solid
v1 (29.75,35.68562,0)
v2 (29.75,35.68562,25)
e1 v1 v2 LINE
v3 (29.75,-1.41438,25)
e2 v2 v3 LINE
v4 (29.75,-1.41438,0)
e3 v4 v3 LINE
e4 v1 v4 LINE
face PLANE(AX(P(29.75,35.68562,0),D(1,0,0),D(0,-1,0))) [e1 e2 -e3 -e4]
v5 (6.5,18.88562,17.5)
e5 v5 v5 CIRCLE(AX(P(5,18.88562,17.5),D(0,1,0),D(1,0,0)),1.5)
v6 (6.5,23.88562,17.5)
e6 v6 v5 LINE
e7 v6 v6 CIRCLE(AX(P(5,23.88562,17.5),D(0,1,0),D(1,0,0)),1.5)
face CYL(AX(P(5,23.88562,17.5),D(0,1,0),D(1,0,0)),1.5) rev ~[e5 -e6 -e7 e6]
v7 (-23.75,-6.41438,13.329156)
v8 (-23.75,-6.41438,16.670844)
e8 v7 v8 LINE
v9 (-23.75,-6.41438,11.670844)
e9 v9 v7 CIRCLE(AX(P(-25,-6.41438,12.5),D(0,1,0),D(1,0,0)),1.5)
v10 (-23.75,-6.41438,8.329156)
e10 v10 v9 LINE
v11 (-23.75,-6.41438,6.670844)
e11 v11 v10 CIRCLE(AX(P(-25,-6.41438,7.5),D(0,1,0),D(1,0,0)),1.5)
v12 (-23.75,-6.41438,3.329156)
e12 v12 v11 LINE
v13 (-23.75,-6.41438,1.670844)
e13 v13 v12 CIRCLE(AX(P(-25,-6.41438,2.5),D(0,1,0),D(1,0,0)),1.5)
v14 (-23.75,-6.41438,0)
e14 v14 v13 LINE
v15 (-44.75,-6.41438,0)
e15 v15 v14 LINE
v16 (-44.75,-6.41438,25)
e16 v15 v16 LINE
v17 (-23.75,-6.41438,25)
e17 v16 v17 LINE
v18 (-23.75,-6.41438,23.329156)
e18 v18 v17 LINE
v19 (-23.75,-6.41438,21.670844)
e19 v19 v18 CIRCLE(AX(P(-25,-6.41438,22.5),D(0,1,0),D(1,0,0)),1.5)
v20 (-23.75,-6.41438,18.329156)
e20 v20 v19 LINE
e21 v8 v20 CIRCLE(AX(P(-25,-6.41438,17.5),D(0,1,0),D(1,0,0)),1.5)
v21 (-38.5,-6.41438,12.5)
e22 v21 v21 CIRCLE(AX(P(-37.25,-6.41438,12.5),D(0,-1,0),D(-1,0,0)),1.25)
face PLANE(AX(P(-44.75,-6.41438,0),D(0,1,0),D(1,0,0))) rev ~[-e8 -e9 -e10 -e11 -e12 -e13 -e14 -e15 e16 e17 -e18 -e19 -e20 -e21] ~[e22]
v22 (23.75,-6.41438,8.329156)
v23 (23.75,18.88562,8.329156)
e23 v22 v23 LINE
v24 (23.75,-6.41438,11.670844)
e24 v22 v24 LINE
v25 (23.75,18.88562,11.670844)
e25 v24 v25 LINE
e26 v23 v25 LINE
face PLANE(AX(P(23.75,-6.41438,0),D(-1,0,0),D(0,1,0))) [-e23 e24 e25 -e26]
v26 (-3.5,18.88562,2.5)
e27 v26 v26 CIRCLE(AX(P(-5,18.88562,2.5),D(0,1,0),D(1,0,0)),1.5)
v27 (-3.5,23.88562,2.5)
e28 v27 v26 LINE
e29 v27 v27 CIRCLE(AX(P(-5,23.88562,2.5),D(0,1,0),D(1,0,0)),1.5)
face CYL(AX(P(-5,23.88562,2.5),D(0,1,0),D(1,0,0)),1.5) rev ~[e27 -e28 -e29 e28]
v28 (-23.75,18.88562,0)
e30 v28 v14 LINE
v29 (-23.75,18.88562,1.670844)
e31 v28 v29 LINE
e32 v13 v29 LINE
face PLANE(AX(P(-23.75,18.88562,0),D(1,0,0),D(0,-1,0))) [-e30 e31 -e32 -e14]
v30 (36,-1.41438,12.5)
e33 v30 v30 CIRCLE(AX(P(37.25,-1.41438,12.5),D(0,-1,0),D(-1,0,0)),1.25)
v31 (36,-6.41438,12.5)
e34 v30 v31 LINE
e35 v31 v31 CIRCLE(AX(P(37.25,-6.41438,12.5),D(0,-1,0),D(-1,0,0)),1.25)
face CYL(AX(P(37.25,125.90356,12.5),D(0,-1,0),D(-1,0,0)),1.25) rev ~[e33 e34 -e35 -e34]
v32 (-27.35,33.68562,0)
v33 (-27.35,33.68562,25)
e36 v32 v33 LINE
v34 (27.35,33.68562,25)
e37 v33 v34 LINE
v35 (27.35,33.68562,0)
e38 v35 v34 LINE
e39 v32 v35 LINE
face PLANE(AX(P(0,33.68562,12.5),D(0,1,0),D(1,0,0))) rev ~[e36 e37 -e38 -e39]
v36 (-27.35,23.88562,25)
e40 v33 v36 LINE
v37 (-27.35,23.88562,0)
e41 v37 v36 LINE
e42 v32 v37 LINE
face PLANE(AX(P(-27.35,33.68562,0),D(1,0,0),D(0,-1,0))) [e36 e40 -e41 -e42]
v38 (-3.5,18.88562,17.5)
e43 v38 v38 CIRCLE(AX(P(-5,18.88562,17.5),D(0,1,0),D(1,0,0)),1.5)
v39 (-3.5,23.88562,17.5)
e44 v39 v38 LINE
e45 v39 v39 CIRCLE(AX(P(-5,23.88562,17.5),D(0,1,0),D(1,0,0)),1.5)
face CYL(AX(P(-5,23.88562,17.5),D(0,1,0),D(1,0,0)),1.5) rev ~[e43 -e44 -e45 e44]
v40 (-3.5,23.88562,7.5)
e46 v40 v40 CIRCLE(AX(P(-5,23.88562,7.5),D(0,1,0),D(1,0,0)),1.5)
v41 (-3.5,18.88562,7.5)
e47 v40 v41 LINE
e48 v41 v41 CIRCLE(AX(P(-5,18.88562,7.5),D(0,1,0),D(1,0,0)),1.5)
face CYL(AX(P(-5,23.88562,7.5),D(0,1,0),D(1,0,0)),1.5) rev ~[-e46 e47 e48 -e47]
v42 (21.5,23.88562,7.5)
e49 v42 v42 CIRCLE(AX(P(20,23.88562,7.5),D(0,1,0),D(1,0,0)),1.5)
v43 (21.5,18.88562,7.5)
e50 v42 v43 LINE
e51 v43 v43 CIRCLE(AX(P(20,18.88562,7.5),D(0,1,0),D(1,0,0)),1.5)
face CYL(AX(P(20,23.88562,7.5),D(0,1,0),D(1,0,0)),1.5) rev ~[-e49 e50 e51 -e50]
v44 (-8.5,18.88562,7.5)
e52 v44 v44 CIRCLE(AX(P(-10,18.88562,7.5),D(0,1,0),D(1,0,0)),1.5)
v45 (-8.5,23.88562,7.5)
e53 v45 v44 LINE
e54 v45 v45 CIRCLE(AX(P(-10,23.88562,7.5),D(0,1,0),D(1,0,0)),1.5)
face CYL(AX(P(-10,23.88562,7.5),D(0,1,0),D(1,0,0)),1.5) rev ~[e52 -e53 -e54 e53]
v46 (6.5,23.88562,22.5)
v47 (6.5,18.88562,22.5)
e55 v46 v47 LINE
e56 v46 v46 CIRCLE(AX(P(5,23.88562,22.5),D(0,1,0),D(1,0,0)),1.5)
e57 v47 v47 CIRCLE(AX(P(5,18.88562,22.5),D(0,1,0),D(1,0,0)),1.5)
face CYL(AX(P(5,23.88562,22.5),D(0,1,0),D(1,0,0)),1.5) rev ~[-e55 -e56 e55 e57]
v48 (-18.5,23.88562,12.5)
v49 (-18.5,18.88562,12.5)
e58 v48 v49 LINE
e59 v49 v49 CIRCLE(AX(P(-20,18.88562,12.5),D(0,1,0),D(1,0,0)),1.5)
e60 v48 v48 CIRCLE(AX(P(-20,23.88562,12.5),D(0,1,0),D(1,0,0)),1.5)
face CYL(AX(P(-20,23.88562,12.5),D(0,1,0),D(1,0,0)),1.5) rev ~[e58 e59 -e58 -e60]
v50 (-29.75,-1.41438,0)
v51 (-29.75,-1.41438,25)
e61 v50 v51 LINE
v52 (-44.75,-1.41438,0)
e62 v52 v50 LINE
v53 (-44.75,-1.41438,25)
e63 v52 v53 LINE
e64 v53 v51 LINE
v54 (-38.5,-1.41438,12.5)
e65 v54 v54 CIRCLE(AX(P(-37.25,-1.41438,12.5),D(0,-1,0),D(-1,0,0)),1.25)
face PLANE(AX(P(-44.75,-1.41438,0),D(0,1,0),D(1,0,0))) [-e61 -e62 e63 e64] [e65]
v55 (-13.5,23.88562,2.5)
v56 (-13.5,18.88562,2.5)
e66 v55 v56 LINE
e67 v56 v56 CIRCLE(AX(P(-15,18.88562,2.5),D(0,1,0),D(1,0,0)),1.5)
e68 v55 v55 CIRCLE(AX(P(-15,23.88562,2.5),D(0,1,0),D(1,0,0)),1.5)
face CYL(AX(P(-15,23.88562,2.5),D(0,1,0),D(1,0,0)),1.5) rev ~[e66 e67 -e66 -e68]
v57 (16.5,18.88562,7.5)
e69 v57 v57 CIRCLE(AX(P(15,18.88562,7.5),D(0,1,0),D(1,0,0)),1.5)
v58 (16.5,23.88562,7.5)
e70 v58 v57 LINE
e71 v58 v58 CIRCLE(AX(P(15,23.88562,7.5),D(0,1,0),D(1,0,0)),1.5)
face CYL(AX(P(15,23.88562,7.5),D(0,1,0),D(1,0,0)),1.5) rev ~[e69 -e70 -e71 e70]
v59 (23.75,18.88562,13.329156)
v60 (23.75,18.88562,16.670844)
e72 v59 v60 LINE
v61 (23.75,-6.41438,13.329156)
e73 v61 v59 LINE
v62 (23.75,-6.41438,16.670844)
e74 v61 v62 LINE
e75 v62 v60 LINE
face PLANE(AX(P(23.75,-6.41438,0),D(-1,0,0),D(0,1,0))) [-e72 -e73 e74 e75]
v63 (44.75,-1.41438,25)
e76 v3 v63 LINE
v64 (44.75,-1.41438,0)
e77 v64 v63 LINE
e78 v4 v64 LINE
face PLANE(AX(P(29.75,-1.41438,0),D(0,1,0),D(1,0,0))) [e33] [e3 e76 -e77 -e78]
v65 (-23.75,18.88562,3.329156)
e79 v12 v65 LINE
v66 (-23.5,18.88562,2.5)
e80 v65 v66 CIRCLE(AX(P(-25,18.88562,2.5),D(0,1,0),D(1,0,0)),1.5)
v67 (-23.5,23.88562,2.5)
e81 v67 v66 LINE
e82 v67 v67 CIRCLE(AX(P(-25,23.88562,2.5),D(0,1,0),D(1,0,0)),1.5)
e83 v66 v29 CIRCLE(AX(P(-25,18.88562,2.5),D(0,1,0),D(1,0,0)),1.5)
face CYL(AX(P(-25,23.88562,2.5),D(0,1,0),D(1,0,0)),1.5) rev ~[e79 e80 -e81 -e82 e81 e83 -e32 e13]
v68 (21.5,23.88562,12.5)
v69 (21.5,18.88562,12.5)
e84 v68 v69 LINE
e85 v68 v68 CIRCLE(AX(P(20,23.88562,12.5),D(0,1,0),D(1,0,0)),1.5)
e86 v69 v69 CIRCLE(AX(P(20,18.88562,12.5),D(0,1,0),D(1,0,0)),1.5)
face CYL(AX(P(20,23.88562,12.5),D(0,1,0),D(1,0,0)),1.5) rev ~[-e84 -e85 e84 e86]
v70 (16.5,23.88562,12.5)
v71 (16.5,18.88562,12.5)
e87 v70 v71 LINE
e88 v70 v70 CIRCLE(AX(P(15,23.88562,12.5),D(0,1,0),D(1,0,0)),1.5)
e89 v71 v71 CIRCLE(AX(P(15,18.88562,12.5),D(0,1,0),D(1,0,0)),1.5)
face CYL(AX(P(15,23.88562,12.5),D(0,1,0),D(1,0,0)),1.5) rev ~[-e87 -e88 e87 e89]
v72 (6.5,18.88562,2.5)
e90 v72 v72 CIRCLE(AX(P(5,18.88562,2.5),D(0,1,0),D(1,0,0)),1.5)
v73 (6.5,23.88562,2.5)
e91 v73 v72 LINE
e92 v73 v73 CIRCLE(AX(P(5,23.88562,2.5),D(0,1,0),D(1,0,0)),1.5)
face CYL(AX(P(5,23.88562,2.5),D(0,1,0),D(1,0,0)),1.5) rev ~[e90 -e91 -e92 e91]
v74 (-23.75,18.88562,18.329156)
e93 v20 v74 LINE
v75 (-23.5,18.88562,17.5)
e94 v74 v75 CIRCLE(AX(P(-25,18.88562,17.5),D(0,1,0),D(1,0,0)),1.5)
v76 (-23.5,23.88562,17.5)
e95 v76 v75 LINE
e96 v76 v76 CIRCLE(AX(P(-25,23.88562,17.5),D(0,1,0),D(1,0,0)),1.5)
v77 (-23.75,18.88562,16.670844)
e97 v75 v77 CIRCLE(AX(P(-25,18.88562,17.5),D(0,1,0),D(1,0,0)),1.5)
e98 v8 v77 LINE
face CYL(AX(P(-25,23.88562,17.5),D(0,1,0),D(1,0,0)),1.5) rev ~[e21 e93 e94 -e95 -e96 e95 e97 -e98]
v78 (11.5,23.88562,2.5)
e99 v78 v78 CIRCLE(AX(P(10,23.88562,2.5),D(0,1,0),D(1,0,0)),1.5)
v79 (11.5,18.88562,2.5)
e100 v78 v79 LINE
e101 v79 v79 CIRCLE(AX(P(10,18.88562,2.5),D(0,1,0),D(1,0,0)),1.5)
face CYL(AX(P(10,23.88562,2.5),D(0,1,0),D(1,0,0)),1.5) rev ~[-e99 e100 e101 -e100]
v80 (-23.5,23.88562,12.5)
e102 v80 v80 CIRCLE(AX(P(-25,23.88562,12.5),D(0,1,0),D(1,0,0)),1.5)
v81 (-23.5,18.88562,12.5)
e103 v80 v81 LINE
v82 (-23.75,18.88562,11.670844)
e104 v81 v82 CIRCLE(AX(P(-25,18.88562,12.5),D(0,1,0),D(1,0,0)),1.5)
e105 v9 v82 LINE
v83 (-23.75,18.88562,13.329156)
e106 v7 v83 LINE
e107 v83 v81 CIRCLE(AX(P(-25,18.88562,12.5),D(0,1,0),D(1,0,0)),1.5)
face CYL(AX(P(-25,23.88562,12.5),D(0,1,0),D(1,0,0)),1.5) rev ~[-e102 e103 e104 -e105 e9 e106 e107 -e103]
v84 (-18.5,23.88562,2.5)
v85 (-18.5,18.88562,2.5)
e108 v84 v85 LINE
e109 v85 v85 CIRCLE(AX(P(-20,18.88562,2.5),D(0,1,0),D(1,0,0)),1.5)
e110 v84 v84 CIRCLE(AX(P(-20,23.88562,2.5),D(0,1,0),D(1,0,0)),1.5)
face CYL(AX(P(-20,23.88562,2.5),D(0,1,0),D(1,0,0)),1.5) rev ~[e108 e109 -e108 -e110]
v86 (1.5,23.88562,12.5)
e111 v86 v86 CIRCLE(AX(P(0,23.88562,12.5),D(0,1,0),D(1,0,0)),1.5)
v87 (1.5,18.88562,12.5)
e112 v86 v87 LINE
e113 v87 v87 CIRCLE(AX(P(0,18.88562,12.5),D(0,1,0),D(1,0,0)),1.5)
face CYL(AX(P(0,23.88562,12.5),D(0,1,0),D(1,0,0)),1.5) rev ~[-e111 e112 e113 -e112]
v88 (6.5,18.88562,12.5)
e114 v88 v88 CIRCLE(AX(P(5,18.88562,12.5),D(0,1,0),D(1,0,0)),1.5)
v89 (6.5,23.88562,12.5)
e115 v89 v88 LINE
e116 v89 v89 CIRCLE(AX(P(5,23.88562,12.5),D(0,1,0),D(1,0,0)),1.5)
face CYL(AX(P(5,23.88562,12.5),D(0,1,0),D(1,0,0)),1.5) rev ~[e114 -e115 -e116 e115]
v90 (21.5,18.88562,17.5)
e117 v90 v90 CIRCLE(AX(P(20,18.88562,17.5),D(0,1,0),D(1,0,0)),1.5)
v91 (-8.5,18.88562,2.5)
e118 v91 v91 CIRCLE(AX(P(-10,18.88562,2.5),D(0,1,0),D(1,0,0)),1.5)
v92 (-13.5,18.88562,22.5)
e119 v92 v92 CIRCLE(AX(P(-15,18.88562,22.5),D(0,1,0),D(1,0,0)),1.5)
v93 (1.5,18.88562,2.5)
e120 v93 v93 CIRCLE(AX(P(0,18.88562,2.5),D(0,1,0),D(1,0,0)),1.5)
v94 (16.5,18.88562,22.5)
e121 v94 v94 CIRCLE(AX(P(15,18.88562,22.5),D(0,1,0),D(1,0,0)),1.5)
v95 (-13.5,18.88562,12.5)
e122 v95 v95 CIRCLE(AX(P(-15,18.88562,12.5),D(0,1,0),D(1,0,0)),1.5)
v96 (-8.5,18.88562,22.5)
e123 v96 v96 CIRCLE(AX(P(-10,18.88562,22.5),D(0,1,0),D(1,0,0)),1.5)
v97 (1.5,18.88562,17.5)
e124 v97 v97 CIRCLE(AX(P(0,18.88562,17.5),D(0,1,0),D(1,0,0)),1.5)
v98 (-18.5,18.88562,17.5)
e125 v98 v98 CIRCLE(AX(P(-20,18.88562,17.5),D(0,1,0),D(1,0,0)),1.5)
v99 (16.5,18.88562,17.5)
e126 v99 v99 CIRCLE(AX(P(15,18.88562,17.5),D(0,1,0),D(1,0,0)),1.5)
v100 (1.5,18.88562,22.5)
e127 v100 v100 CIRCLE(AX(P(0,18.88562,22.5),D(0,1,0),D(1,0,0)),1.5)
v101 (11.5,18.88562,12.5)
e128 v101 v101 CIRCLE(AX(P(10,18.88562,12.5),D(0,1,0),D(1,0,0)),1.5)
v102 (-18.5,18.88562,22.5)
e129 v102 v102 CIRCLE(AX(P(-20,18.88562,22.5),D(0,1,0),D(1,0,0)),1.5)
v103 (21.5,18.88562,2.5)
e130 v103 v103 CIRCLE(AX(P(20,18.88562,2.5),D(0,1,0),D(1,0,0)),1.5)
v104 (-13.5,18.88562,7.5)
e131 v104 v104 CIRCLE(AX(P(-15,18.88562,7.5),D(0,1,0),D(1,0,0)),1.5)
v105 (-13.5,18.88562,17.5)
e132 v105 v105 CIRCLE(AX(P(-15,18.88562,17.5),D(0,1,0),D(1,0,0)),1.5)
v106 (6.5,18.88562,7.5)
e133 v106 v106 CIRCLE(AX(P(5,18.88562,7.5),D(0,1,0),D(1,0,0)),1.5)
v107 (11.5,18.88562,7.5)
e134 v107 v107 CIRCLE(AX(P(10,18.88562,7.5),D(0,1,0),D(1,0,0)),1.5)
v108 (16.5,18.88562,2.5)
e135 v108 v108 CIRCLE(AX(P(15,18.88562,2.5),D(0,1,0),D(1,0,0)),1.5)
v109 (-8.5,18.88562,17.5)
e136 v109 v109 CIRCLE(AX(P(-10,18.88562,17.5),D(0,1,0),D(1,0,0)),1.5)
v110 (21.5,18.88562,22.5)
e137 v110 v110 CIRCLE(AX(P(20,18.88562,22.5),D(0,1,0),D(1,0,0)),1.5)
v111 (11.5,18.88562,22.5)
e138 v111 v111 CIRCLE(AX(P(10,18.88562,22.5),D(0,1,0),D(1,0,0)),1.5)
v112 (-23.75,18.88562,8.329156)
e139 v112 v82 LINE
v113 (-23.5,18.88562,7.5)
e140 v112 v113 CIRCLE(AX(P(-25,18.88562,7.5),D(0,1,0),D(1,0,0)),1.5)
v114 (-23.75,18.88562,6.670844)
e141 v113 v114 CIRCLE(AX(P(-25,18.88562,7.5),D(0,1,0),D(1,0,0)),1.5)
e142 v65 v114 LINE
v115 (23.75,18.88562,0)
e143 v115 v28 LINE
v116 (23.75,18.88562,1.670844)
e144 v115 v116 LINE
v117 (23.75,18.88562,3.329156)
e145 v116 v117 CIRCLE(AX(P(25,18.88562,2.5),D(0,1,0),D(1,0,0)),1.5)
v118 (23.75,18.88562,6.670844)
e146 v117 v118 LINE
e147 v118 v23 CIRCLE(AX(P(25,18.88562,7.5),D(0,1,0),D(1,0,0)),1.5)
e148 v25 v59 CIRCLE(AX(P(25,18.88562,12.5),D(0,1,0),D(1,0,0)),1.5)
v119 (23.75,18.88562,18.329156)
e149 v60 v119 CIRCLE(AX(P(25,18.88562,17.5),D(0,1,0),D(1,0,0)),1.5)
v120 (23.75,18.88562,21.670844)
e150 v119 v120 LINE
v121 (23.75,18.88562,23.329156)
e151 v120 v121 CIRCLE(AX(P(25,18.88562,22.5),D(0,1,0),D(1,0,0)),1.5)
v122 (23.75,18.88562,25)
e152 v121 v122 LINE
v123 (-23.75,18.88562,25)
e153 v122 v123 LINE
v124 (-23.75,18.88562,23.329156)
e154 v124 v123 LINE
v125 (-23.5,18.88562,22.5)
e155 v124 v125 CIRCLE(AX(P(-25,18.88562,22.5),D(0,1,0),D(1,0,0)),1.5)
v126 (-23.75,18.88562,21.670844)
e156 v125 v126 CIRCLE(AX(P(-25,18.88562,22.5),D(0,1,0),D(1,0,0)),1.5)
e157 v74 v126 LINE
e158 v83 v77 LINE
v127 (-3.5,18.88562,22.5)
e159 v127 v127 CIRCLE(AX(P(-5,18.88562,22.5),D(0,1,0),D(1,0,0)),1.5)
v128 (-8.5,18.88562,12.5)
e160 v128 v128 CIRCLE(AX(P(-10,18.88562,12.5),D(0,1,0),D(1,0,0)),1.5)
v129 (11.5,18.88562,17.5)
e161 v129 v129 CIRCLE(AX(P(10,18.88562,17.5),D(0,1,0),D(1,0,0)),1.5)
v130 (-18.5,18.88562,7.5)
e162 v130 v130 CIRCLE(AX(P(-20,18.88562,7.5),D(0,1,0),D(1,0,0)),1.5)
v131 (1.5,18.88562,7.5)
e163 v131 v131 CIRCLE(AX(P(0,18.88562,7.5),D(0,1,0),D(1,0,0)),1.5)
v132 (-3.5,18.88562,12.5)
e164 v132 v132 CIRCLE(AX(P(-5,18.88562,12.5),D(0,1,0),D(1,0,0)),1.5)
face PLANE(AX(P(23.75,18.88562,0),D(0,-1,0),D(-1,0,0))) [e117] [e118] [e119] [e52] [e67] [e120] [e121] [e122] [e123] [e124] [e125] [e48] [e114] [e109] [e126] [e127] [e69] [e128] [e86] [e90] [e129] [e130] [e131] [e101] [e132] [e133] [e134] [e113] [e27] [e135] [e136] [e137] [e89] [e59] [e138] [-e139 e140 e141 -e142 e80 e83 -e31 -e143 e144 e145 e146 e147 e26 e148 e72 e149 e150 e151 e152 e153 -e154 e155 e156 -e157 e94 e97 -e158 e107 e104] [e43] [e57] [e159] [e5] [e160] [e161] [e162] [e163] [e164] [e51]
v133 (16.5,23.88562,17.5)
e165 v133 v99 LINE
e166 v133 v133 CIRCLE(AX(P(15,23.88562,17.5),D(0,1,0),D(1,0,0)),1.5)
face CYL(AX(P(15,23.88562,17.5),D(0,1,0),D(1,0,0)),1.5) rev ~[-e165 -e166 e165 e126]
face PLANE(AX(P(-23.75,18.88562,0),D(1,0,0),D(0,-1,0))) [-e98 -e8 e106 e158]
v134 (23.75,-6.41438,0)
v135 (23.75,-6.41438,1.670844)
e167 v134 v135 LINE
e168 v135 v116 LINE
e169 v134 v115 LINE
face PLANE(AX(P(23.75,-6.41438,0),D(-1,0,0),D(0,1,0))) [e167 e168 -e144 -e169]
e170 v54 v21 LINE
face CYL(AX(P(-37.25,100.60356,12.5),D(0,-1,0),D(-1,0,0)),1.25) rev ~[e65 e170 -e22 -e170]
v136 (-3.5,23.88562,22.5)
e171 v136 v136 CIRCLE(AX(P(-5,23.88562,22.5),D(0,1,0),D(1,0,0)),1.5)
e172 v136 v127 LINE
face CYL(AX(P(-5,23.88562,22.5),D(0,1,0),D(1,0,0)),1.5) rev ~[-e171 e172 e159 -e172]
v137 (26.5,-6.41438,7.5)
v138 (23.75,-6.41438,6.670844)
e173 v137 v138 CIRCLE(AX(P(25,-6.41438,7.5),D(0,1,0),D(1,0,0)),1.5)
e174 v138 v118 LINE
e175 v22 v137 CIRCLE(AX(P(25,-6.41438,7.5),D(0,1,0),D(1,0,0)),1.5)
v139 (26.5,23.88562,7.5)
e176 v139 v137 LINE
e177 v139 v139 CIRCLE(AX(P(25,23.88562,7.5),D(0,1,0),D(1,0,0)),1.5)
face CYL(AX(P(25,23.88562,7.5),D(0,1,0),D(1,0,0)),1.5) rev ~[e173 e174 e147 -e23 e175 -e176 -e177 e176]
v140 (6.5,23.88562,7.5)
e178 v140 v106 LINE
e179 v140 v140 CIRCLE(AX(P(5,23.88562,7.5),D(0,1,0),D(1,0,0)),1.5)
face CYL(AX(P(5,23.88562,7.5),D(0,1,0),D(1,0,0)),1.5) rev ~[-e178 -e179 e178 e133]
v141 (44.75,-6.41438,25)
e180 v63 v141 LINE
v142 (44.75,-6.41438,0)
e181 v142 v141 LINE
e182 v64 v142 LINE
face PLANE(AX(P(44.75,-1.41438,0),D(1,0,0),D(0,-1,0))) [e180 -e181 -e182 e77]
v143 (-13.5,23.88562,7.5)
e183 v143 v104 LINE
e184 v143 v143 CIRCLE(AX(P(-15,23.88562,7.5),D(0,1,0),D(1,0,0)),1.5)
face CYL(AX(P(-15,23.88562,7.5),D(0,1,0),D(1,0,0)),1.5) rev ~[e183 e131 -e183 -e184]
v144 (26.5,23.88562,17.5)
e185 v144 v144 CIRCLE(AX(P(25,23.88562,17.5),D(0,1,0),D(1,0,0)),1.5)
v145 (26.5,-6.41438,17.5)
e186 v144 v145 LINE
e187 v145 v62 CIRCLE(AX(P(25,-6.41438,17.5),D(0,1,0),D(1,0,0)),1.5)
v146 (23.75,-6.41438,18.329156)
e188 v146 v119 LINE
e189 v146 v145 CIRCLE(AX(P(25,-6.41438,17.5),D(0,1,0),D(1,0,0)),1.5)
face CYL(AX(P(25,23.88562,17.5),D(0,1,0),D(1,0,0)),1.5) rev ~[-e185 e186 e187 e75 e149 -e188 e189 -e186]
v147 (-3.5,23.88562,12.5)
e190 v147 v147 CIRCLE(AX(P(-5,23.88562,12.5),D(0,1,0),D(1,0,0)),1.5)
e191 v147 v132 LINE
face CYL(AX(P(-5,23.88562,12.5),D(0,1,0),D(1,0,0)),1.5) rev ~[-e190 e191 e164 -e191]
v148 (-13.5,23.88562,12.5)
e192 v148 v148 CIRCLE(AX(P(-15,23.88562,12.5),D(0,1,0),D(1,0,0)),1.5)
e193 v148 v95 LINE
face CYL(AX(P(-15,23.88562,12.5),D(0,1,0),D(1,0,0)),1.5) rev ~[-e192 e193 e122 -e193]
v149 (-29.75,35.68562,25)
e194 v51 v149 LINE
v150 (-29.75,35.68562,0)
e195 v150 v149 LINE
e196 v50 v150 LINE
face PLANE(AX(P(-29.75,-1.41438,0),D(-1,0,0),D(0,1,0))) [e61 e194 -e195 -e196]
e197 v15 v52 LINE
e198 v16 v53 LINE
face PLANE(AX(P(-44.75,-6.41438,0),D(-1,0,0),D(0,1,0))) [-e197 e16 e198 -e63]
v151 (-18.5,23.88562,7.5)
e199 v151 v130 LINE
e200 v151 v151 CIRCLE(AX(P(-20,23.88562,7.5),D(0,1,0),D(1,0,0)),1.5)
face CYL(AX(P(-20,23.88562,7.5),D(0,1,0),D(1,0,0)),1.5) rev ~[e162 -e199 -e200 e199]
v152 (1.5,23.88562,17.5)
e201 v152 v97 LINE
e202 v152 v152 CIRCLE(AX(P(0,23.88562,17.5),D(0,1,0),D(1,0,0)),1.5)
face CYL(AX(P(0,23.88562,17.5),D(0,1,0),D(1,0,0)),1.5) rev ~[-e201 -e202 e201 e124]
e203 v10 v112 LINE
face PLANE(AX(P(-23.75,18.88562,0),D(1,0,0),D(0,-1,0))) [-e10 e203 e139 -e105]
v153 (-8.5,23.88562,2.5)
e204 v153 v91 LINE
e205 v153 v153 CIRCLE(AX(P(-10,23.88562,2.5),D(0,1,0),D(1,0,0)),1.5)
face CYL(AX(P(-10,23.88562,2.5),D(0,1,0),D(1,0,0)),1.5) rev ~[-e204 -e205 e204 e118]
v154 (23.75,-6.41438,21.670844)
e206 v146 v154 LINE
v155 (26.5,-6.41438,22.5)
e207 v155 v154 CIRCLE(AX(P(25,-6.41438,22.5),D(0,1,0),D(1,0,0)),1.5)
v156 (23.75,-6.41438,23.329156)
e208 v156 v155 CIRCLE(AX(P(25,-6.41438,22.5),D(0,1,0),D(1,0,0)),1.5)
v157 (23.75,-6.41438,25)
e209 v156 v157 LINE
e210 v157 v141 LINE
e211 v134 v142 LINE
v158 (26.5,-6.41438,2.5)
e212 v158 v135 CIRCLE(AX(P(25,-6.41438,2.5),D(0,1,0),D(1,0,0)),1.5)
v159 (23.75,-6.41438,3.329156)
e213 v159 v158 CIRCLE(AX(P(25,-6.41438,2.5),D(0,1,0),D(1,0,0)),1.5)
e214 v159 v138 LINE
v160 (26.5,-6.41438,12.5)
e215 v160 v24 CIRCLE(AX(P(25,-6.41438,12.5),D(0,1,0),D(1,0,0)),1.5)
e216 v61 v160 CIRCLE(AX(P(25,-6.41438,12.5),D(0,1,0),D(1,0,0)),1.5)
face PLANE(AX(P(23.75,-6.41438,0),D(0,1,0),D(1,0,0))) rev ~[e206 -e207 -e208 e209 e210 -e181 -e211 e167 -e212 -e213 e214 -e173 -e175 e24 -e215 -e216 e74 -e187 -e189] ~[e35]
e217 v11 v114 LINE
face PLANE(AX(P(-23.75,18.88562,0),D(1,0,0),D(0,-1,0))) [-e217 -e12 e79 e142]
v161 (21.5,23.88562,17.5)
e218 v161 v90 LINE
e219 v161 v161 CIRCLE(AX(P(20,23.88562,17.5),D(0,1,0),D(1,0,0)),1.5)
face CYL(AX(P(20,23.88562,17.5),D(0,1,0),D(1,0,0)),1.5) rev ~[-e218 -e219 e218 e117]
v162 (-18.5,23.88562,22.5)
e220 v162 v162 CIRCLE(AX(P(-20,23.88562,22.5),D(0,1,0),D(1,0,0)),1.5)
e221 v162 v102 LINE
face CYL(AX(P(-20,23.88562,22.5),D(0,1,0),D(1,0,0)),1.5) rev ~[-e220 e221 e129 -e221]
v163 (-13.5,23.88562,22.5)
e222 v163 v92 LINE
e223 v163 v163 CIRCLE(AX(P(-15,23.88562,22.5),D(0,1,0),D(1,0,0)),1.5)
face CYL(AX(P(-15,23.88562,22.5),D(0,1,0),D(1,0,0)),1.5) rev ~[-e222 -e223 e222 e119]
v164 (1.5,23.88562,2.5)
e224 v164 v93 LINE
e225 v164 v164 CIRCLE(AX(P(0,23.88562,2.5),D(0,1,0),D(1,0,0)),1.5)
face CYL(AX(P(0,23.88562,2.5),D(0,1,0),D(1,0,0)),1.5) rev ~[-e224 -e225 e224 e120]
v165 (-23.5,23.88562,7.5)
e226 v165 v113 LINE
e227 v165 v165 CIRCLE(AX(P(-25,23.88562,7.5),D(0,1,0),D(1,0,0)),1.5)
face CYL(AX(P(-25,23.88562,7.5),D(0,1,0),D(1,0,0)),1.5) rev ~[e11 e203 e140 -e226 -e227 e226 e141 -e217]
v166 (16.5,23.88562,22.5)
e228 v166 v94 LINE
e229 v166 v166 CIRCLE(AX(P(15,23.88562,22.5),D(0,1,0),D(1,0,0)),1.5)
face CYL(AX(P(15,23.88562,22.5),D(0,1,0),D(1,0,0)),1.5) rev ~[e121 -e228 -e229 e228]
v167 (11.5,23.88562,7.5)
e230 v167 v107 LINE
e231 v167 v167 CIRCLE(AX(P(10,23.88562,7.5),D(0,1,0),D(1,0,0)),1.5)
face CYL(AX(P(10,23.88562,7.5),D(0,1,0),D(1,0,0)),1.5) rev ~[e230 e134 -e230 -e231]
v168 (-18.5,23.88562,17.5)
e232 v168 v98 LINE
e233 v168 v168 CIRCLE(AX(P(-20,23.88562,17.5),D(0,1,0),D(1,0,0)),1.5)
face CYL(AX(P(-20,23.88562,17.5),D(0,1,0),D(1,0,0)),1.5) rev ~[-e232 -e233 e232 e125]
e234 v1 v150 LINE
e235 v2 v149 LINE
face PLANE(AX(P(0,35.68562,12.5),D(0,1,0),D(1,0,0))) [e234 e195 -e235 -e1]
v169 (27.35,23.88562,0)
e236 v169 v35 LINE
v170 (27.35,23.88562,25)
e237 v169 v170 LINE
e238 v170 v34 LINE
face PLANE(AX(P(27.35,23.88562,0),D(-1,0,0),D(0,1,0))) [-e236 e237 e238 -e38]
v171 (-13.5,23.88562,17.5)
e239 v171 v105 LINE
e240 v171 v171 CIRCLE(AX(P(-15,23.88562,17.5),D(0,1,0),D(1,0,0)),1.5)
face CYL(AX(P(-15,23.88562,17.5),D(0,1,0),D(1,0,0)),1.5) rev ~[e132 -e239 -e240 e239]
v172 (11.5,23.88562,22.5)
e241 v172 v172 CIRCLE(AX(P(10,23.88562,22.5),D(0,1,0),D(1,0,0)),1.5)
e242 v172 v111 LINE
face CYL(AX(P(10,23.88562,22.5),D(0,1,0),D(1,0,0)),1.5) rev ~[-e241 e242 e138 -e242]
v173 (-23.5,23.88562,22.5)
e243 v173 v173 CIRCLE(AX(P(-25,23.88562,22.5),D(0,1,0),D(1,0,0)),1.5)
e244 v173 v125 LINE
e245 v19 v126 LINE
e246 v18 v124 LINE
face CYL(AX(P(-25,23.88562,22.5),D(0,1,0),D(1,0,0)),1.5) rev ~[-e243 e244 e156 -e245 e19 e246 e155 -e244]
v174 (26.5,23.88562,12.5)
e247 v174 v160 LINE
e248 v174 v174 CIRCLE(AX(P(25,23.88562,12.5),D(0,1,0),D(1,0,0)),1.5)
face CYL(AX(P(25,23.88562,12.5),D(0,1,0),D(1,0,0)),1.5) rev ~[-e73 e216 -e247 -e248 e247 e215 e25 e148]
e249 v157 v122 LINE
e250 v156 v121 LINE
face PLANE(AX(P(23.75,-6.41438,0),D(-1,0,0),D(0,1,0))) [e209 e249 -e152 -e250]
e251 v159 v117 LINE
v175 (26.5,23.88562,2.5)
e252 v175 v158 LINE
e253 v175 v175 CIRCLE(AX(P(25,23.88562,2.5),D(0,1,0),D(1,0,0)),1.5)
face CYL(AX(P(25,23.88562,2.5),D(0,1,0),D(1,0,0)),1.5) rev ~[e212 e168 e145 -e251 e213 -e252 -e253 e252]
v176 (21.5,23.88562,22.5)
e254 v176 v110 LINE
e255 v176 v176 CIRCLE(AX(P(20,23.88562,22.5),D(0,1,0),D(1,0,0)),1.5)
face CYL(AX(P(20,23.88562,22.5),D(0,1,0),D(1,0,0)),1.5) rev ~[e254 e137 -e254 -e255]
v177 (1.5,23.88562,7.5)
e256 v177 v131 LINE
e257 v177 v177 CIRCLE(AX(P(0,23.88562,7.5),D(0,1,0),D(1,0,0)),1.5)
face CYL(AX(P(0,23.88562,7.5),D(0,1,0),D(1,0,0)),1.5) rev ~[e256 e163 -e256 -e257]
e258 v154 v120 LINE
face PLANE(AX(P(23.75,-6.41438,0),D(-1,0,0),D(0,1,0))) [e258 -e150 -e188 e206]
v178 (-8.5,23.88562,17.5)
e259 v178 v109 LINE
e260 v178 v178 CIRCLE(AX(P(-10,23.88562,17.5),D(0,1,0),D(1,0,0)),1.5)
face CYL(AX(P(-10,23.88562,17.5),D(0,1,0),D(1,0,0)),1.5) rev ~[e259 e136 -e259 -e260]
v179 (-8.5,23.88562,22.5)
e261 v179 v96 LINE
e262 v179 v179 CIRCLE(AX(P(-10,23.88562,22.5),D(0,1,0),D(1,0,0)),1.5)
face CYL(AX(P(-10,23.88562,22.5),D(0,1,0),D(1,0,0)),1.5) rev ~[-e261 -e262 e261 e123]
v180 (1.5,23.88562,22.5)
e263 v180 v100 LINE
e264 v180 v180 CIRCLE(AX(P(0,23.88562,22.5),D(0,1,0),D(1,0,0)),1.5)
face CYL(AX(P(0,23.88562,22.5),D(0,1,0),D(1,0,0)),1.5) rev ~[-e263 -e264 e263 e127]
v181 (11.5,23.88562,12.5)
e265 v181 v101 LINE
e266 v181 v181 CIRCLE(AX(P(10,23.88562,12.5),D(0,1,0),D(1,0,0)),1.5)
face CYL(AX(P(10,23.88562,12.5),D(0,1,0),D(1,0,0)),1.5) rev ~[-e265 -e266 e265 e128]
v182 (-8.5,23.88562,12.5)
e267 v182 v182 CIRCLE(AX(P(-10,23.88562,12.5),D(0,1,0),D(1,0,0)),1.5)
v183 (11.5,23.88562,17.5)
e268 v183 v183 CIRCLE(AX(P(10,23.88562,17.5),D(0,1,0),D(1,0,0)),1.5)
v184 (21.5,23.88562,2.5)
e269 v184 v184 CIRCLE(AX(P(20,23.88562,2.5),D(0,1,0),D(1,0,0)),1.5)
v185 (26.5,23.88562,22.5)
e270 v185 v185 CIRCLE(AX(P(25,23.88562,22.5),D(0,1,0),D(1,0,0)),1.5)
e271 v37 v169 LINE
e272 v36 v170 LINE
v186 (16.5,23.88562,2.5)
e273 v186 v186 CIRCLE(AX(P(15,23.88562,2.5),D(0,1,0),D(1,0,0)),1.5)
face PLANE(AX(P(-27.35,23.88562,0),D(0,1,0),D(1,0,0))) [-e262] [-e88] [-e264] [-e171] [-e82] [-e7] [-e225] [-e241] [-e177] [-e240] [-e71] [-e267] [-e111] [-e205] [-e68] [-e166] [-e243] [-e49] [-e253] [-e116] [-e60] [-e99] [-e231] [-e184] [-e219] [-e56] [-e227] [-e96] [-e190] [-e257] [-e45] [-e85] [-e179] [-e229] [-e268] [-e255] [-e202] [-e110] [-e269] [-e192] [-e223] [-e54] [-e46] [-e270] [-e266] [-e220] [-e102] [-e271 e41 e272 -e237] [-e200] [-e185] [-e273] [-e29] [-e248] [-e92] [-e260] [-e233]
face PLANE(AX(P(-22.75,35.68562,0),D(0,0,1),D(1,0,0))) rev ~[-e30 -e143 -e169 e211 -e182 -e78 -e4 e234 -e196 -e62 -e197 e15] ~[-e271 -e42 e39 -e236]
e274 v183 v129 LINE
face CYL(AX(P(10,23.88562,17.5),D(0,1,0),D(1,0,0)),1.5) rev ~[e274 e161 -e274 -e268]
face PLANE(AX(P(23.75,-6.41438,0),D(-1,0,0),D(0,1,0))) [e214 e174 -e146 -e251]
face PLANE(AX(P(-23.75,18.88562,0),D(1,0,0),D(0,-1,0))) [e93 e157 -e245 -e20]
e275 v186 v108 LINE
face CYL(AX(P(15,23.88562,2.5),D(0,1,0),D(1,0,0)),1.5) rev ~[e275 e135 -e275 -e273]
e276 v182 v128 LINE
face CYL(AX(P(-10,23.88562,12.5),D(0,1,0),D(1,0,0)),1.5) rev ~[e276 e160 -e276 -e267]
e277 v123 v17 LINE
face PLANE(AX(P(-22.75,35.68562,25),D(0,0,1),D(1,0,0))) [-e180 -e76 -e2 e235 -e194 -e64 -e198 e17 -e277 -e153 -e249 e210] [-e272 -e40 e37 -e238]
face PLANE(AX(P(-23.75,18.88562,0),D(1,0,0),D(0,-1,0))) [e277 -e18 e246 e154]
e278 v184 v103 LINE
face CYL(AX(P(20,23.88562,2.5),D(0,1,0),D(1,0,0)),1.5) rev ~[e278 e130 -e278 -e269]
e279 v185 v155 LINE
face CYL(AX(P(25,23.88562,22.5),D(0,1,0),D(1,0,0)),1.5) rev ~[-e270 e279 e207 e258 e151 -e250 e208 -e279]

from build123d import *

# Parameters (mm, degrees)
BOSS_EXTRUDE1_DEPTH            = 25
M3_TAPPED_HOLE1_D              = 2.5
M3_TAPPED_HOLE2_D              = 2.5
SKETCH9_R                      = 1.5
CUT_EXTRUDE1_DEPTH             = 31.3
LPATTERN1_COUNT                = 6
LPATTERN1_PITCH                = 5
LPATTERN1_COL_COUNT            = 6
LPATTERN1_COL_PITCH            = 5
LPATTERN2_COUNT                = 3
LPATTERN2_PITCH                = 5
LPATTERN2_COPY_1_SKETCH_R      = 1.5
LPATTERN2_COPY_1_DEPTH         = 31.3
LPATTERN2_COPY_2_SKETCH_R      = 1.5
LPATTERN2_COPY_2_DEPTH         = 31.3
LPATTERN2_COPY_3_SKETCH_R      = 1.5
LPATTERN2_COPY_3_DEPTH         = 31.3
LPATTERN2_COPY_4_SKETCH_R      = 1.5
LPATTERN2_COPY_4_DEPTH         = 31.3
LPATTERN2_COPY_5_SKETCH_R      = 1.5
LPATTERN2_COPY_5_DEPTH         = 31.3
LPATTERN2_COPY_6_SKETCH_R      = 1.5
LPATTERN2_COPY_6_DEPTH         = 31.3
LPATTERN2_COPY_7_SKETCH_R      = 1.5
LPATTERN2_COPY_7_DEPTH         = 31.3
LPATTERN2_COPY_8_SKETCH_R      = 1.5
LPATTERN2_COPY_8_DEPTH         = 31.3
LPATTERN2_COPY_9_SKETCH_R      = 1.5
LPATTERN2_COPY_9_DEPTH         = 31.3
LPATTERN2_COPY_10_SKETCH_R     = 1.5
LPATTERN2_COPY_10_DEPTH        = 31.3
LPATTERN2_COPY_11_SKETCH_R     = 1.5
LPATTERN2_COPY_11_DEPTH        = 31.3
LPATTERN2_COPY_12_SKETCH_R     = 1.5
LPATTERN2_COPY_12_DEPTH        = 31.3
LPATTERN2_COPY_13_SKETCH_R     = 1.5
LPATTERN2_COPY_13_DEPTH        = 31.3
LPATTERN2_COPY_14_SKETCH_R     = 1.5
LPATTERN2_COPY_14_DEPTH        = 31.3
LPATTERN2_COPY_15_SKETCH_R     = 1.5
LPATTERN2_COPY_15_DEPTH        = 31.3
LPATTERN2_COPY_16_SKETCH_R     = 1.5
LPATTERN2_COPY_16_DEPTH        = 31.3
LPATTERN2_COPY_17_SKETCH_R     = 1.5
LPATTERN2_COPY_17_DEPTH        = 31.3
LPATTERN2_COPY_18_SKETCH_R     = 1.5
LPATTERN2_COPY_18_DEPTH        = 31.3
LPATTERN2_COPY_19_SKETCH_R     = 1.5
LPATTERN2_COPY_19_DEPTH        = 31.3
LPATTERN2_COPY_20_SKETCH_R     = 1.5
LPATTERN2_COPY_20_DEPTH        = 31.3
LPATTERN2_COL_COUNT            = 3
LPATTERN2_COL_PITCH            = 5
LPATTERN2_COL_COPY_1_SKETCH_R  = 1.5
LPATTERN2_COL_COPY_1_DEPTH     = 31.3
LPATTERN2_COL_COPY_2_SKETCH_R  = 1.5
LPATTERN2_COL_COPY_2_DEPTH     = 31.3
LPATTERN2_COL_COPY_3_SKETCH_R  = 1.5
LPATTERN2_COL_COPY_3_DEPTH     = 31.3
LPATTERN2_COL_COPY_4_SKETCH_R  = 1.5
LPATTERN2_COL_COPY_4_DEPTH     = 31.3
LPATTERN2_COL_COPY_5_SKETCH_R  = 1.5
LPATTERN2_COL_COPY_5_DEPTH     = 31.3
LPATTERN2_COL_COPY_6_SKETCH_R  = 1.5
LPATTERN2_COL_COPY_6_DEPTH     = 31.3
LPATTERN2_COL_COPY_7_SKETCH_R  = 1.5
LPATTERN2_COL_COPY_7_DEPTH     = 31.3
LPATTERN2_COL_COPY_8_SKETCH_R  = 1.5
LPATTERN2_COL_COPY_8_DEPTH     = 31.3
LPATTERN2_COL_COPY_9_SKETCH_R  = 1.5
LPATTERN2_COL_COPY_9_DEPTH     = 31.3
LPATTERN2_COL_COPY_10_SKETCH_R = 1.5
LPATTERN2_COL_COPY_10_DEPTH    = 31.3
LPATTERN2_COL_COPY_11_SKETCH_R = 1.5
LPATTERN2_COL_COPY_11_DEPTH    = 31.3
LPATTERN2_COL_COPY_12_SKETCH_R = 1.5
LPATTERN2_COL_COPY_12_DEPTH    = 31.3
LPATTERN2_COL_COPY_13_SKETCH_R = 1.5
LPATTERN2_COL_COPY_13_DEPTH    = 31.3
LPATTERN2_COL_COPY_14_SKETCH_R = 1.5
LPATTERN2_COL_COPY_14_DEPTH    = 31.3
LPATTERN2_COL_COPY_15_SKETCH_R = 1.5
LPATTERN2_COL_COPY_15_DEPTH    = 31.3
LPATTERN2_COL_COPY_16_SKETCH_R = 1.5
LPATTERN2_COL_COPY_16_DEPTH    = 31.3
LPATTERN2_COL_COPY_17_SKETCH_R = 1.5
LPATTERN2_COL_COPY_17_DEPTH    = 31.3
LPATTERN2_COL_COPY_18_SKETCH_R = 1.5
LPATTERN2_COL_COPY_18_DEPTH    = 31.3
LPATTERN2_COL_COPY_19_SKETCH_R = 1.5
LPATTERN2_COL_COPY_19_DEPTH    = 31.3
LPATTERN2_COL_COPY_20_SKETCH_R = 1.5
LPATTERN2_COL_COPY_20_DEPTH    = 31.3
SKETCH13_W                     = 45.5
SKETCH13_H                     = 25
BOSS_EXTRUDE2_DEPTH            = 2


with BuildPart() as part:
    # Sketch1 → Boss-Extrude1 (new body)
    with BuildSketch(Plane.XY):
        Polygon((23.75, 18.885620253), (-23.75, 18.885620253), (-23.75, -6.414379747), (-34.953721519, -6.414379747), (-44.75, -6.414379747), (-44.75, -1.414379747), (-29.75, -1.414379747), (-29.75, 35.685620253), (-22.75, 35.685620253), (-22.75, 33.685620253), (-27.35, 33.685620253), (-27.35, 23.885620253), (27.35, 23.885620253), (27.35, 33.685620253), (22.75, 33.685620253), (22.75, 35.685620253), (29.75, 35.685620253), (29.75, -1.414379747), (44.75, -1.414379747), (44.75, -6.414379747), (34.953721519, -6.414379747), (23.75, -6.414379747), align=None)
    extrude(amount=BOSS_EXTRUDE1_DEPTH)

    # M3 Tapped Hole1 (through all)
    with Locations(Plane(origin=(0, -1.414379747, 0), x_dir=(1, 0, 0), z_dir=(0, 1, 0))):
        with Locations((-37.25, -12.5)):
            Hole(M3_TAPPED_HOLE1_D / 2)

    # M3 Tapped Hole2 (through all)
    with Locations(Plane(origin=(0, 23.885620253, 0), x_dir=(1, 0, 0), z_dir=(0, 1, 0))):
        with Locations((37.25, -12.5)):
            Hole(M3_TAPPED_HOLE2_D / 2)

    # Sketch9 → Cut-Extrude1 (cut, through all)
    with BuildSketch(Plane(origin=(0, 23.885620253, 0), x_dir=(1, 0, 0), z_dir=(0, 1, 0))):
        with Locations((0, -12.5)):
            Circle(SKETCH9_R)
    cut_extrude1 = extrude(amount=-CUT_EXTRUDE1_DEPTH, mode=Mode.SUBTRACT)

    # LPattern1: Cut-Extrude1 ×6
    with Locations(*[(i * LPATTERN1_PITCH, 0, 0) for i in range(1, LPATTERN1_COUNT)]):
        add(cut_extrude1, mode=Mode.SUBTRACT)

    # LPattern1 col: Cut-Extrude1 ×6
    with Locations(*[(-i * LPATTERN1_COL_PITCH, 0, 0) for i in range(1, LPATTERN1_COL_COUNT)]):
        add(cut_extrude1, mode=Mode.SUBTRACT)

    # LPattern2: Cut-Extrude1 ×3
    with Locations(*[(0, 0, -i * LPATTERN2_PITCH) for i in range(1, LPATTERN2_COUNT)]):
        add(cut_extrude1, mode=Mode.SUBTRACT)

    # LPattern2 copy 1 sketch → LPattern2 copy 1 (cut, through all)
    with BuildSketch(Plane(origin=(5, 23.885620253, -5), x_dir=(1, 0, 0), z_dir=(0, 1, 0))):
        with Locations((0, -12.5)):
            Circle(LPATTERN2_COPY_1_SKETCH_R)
    extrude(amount=-LPATTERN2_COPY_1_DEPTH, mode=Mode.SUBTRACT)

    # LPattern2 copy 2 sketch → LPattern2 copy 2 (cut, through all)
    with BuildSketch(Plane(origin=(5, 23.885620253, -10), x_dir=(1, 0, 0), z_dir=(0, 1, 0))):
        with Locations((0, -12.5)):
            Circle(LPATTERN2_COPY_2_SKETCH_R)
    extrude(amount=-LPATTERN2_COPY_2_DEPTH, mode=Mode.SUBTRACT)

    # LPattern2 copy 3 sketch → LPattern2 copy 3 (cut, through all)
    with BuildSketch(Plane(origin=(10, 23.885620253, -5), x_dir=(1, 0, 0), z_dir=(0, 1, 0))):
        with Locations((0, -12.5)):
            Circle(LPATTERN2_COPY_3_SKETCH_R)
    extrude(amount=-LPATTERN2_COPY_3_DEPTH, mode=Mode.SUBTRACT)

    # LPattern2 copy 4 sketch → LPattern2 copy 4 (cut, through all)
    with BuildSketch(Plane(origin=(10, 23.885620253, -10), x_dir=(1, 0, 0), z_dir=(0, 1, 0))):
        with Locations((0, -12.5)):
            Circle(LPATTERN2_COPY_4_SKETCH_R)
    extrude(amount=-LPATTERN2_COPY_4_DEPTH, mode=Mode.SUBTRACT)

    # LPattern2 copy 5 sketch → LPattern2 copy 5 (cut, through all)
    with BuildSketch(Plane(origin=(15, 23.885620253, -5), x_dir=(1, 0, 0), z_dir=(0, 1, 0))):
        with Locations((0, -12.5)):
            Circle(LPATTERN2_COPY_5_SKETCH_R)
    extrude(amount=-LPATTERN2_COPY_5_DEPTH, mode=Mode.SUBTRACT)

    # LPattern2 copy 6 sketch → LPattern2 copy 6 (cut, through all)
    with BuildSketch(Plane(origin=(15, 23.885620253, -10), x_dir=(1, 0, 0), z_dir=(0, 1, 0))):
        with Locations((0, -12.5)):
            Circle(LPATTERN2_COPY_6_SKETCH_R)
    extrude(amount=-LPATTERN2_COPY_6_DEPTH, mode=Mode.SUBTRACT)

    # LPattern2 copy 7 sketch → LPattern2 copy 7 (cut, through all)
    with BuildSketch(Plane(origin=(20, 23.885620253, -5), x_dir=(1, 0, 0), z_dir=(0, 1, 0))):
        with Locations((0, -12.5)):
            Circle(LPATTERN2_COPY_7_SKETCH_R)
    extrude(amount=-LPATTERN2_COPY_7_DEPTH, mode=Mode.SUBTRACT)

    # LPattern2 copy 8 sketch → LPattern2 copy 8 (cut, through all)
    with BuildSketch(Plane(origin=(20, 23.885620253, -10), x_dir=(1, 0, 0), z_dir=(0, 1, 0))):
        with Locations((0, -12.5)):
            Circle(LPATTERN2_COPY_8_SKETCH_R)
    extrude(amount=-LPATTERN2_COPY_8_DEPTH, mode=Mode.SUBTRACT)

    # LPattern2 copy 9 sketch → LPattern2 copy 9 (cut, through all)
    with BuildSketch(Plane(origin=(25, 23.885620253, -5), x_dir=(1, 0, 0), z_dir=(0, 1, 0))):
        with Locations((0, -12.5)):
            Circle(LPATTERN2_COPY_9_SKETCH_R)
    extrude(amount=-LPATTERN2_COPY_9_DEPTH, mode=Mode.SUBTRACT)

    # LPattern2 copy 10 sketch → LPattern2 copy 10 (cut, through all)
    with BuildSketch(Plane(origin=(25, 23.885620253, -10), x_dir=(1, 0, 0), z_dir=(0, 1, 0))):
        with Locations((0, -12.5)):
            Circle(LPATTERN2_COPY_10_SKETCH_R)
    extrude(amount=-LPATTERN2_COPY_10_DEPTH, mode=Mode.SUBTRACT)

    # LPattern2 copy 11 sketch → LPattern2 copy 11 (cut, through all)
    with BuildSketch(Plane(origin=(-5, 23.885620253, -5), x_dir=(1, 0, 0), z_dir=(0, 1, 0))):
        with Locations((0, -12.5)):
            Circle(LPATTERN2_COPY_11_SKETCH_R)
    extrude(amount=-LPATTERN2_COPY_11_DEPTH, mode=Mode.SUBTRACT)

    # LPattern2 copy 12 sketch → LPattern2 copy 12 (cut, through all)
    with BuildSketch(Plane(origin=(-5, 23.885620253, -10), x_dir=(1, 0, 0), z_dir=(0, 1, 0))):
        with Locations((0, -12.5)):
            Circle(LPATTERN2_COPY_12_SKETCH_R)
    extrude(amount=-LPATTERN2_COPY_12_DEPTH, mode=Mode.SUBTRACT)

    # LPattern2 copy 13 sketch → LPattern2 copy 13 (cut, through all)
    with BuildSketch(Plane(origin=(-10, 23.885620253, -5), x_dir=(1, 0, 0), z_dir=(0, 1, 0))):
        with Locations((0, -12.5)):
            Circle(LPATTERN2_COPY_13_SKETCH_R)
    extrude(amount=-LPATTERN2_COPY_13_DEPTH, mode=Mode.SUBTRACT)

    # LPattern2 copy 14 sketch → LPattern2 copy 14 (cut, through all)
    with BuildSketch(Plane(origin=(-10, 23.885620253, -10), x_dir=(1, 0, 0), z_dir=(0, 1, 0))):
        with Locations((0, -12.5)):
            Circle(LPATTERN2_COPY_14_SKETCH_R)
    extrude(amount=-LPATTERN2_COPY_14_DEPTH, mode=Mode.SUBTRACT)

    # LPattern2 copy 15 sketch → LPattern2 copy 15 (cut, through all)
    with BuildSketch(Plane(origin=(-15, 23.885620253, -5), x_dir=(1, 0, 0), z_dir=(0, 1, 0))):
        with Locations((0, -12.5)):
            Circle(LPATTERN2_COPY_15_SKETCH_R)
    extrude(amount=-LPATTERN2_COPY_15_DEPTH, mode=Mode.SUBTRACT)

    # LPattern2 copy 16 sketch → LPattern2 copy 16 (cut, through all)
    with BuildSketch(Plane(origin=(-15, 23.885620253, -10), x_dir=(1, 0, 0), z_dir=(0, 1, 0))):
        with Locations((0, -12.5)):
            Circle(LPATTERN2_COPY_16_SKETCH_R)
    extrude(amount=-LPATTERN2_COPY_16_DEPTH, mode=Mode.SUBTRACT)

    # LPattern2 copy 17 sketch → LPattern2 copy 17 (cut, through all)
    with BuildSketch(Plane(origin=(-20, 23.885620253, -5), x_dir=(1, 0, 0), z_dir=(0, 1, 0))):
        with Locations((0, -12.5)):
            Circle(LPATTERN2_COPY_17_SKETCH_R)
    extrude(amount=-LPATTERN2_COPY_17_DEPTH, mode=Mode.SUBTRACT)

    # LPattern2 copy 18 sketch → LPattern2 copy 18 (cut, through all)
    with BuildSketch(Plane(origin=(-20, 23.885620253, -10), x_dir=(1, 0, 0), z_dir=(0, 1, 0))):
        with Locations((0, -12.5)):
            Circle(LPATTERN2_COPY_18_SKETCH_R)
    extrude(amount=-LPATTERN2_COPY_18_DEPTH, mode=Mode.SUBTRACT)

    # LPattern2 copy 19 sketch → LPattern2 copy 19 (cut, through all)
    with BuildSketch(Plane(origin=(-25, 23.885620253, -5), x_dir=(1, 0, 0), z_dir=(0, 1, 0))):
        with Locations((0, -12.5)):
            Circle(LPATTERN2_COPY_19_SKETCH_R)
    extrude(amount=-LPATTERN2_COPY_19_DEPTH, mode=Mode.SUBTRACT)

    # LPattern2 copy 20 sketch → LPattern2 copy 20 (cut, through all)
    with BuildSketch(Plane(origin=(-25, 23.885620253, -10), x_dir=(1, 0, 0), z_dir=(0, 1, 0))):
        with Locations((0, -12.5)):
            Circle(LPATTERN2_COPY_20_SKETCH_R)
    extrude(amount=-LPATTERN2_COPY_20_DEPTH, mode=Mode.SUBTRACT)

    # LPattern2 col: Cut-Extrude1 ×3
    with Locations(*[(0, 0, i * LPATTERN2_COL_PITCH) for i in range(1, LPATTERN2_COL_COUNT)]):
        add(cut_extrude1, mode=Mode.SUBTRACT)

    # LPattern2 col copy 1 sketch → LPattern2 col copy 1 (cut, through all)
    with BuildSketch(Plane(origin=(5, 23.885620253, 5), x_dir=(1, 0, 0), z_dir=(0, 1, 0))):
        with Locations((0, -12.5)):
            Circle(LPATTERN2_COL_COPY_1_SKETCH_R)
    extrude(amount=-LPATTERN2_COL_COPY_1_DEPTH, mode=Mode.SUBTRACT)

    # LPattern2 col copy 2 sketch → LPattern2 col copy 2 (cut, through all)
    with BuildSketch(Plane(origin=(5, 23.885620253, 10), x_dir=(1, 0, 0), z_dir=(0, 1, 0))):
        with Locations((0, -12.5)):
            Circle(LPATTERN2_COL_COPY_2_SKETCH_R)
    extrude(amount=-LPATTERN2_COL_COPY_2_DEPTH, mode=Mode.SUBTRACT)

    # LPattern2 col copy 3 sketch → LPattern2 col copy 3 (cut, through all)
    with BuildSketch(Plane(origin=(10, 23.885620253, 5), x_dir=(1, 0, 0), z_dir=(0, 1, 0))):
        with Locations((0, -12.5)):
            Circle(LPATTERN2_COL_COPY_3_SKETCH_R)
    extrude(amount=-LPATTERN2_COL_COPY_3_DEPTH, mode=Mode.SUBTRACT)

    # LPattern2 col copy 4 sketch → LPattern2 col copy 4 (cut, through all)
    with BuildSketch(Plane(origin=(10, 23.885620253, 10), x_dir=(1, 0, 0), z_dir=(0, 1, 0))):
        with Locations((0, -12.5)):
            Circle(LPATTERN2_COL_COPY_4_SKETCH_R)
    extrude(amount=-LPATTERN2_COL_COPY_4_DEPTH, mode=Mode.SUBTRACT)

    # LPattern2 col copy 5 sketch → LPattern2 col copy 5 (cut, through all)
    with BuildSketch(Plane(origin=(15, 23.885620253, 5), x_dir=(1, 0, 0), z_dir=(0, 1, 0))):
        with Locations((0, -12.5)):
            Circle(LPATTERN2_COL_COPY_5_SKETCH_R)
    extrude(amount=-LPATTERN2_COL_COPY_5_DEPTH, mode=Mode.SUBTRACT)

    # LPattern2 col copy 6 sketch → LPattern2 col copy 6 (cut, through all)
    with BuildSketch(Plane(origin=(15, 23.885620253, 10), x_dir=(1, 0, 0), z_dir=(0, 1, 0))):
        with Locations((0, -12.5)):
            Circle(LPATTERN2_COL_COPY_6_SKETCH_R)
    extrude(amount=-LPATTERN2_COL_COPY_6_DEPTH, mode=Mode.SUBTRACT)

    # LPattern2 col copy 7 sketch → LPattern2 col copy 7 (cut, through all)
    with BuildSketch(Plane(origin=(20, 23.885620253, 5), x_dir=(1, 0, 0), z_dir=(0, 1, 0))):
        with Locations((0, -12.5)):
            Circle(LPATTERN2_COL_COPY_7_SKETCH_R)
    extrude(amount=-LPATTERN2_COL_COPY_7_DEPTH, mode=Mode.SUBTRACT)

    # LPattern2 col copy 8 sketch → LPattern2 col copy 8 (cut, through all)
    with BuildSketch(Plane(origin=(20, 23.885620253, 10), x_dir=(1, 0, 0), z_dir=(0, 1, 0))):
        with Locations((0, -12.5)):
            Circle(LPATTERN2_COL_COPY_8_SKETCH_R)
    extrude(amount=-LPATTERN2_COL_COPY_8_DEPTH, mode=Mode.SUBTRACT)

    # LPattern2 col copy 9 sketch → LPattern2 col copy 9 (cut, through all)
    with BuildSketch(Plane(origin=(25, 23.885620253, 5), x_dir=(1, 0, 0), z_dir=(0, 1, 0))):
        with Locations((0, -12.5)):
            Circle(LPATTERN2_COL_COPY_9_SKETCH_R)
    extrude(amount=-LPATTERN2_COL_COPY_9_DEPTH, mode=Mode.SUBTRACT)

    # LPattern2 col copy 10 sketch → LPattern2 col copy 10 (cut, through all)
    with BuildSketch(Plane(origin=(25, 23.885620253, 10), x_dir=(1, 0, 0), z_dir=(0, 1, 0))):
        with Locations((0, -12.5)):
            Circle(LPATTERN2_COL_COPY_10_SKETCH_R)
    extrude(amount=-LPATTERN2_COL_COPY_10_DEPTH, mode=Mode.SUBTRACT)

    # LPattern2 col copy 11 sketch → LPattern2 col copy 11 (cut, through all)
    with BuildSketch(Plane(origin=(-5, 23.885620253, 5), x_dir=(1, 0, 0), z_dir=(0, 1, 0))):
        with Locations((0, -12.5)):
            Circle(LPATTERN2_COL_COPY_11_SKETCH_R)
    extrude(amount=-LPATTERN2_COL_COPY_11_DEPTH, mode=Mode.SUBTRACT)

    # LPattern2 col copy 12 sketch → LPattern2 col copy 12 (cut, through all)
    with BuildSketch(Plane(origin=(-5, 23.885620253, 10), x_dir=(1, 0, 0), z_dir=(0, 1, 0))):
        with Locations((0, -12.5)):
            Circle(LPATTERN2_COL_COPY_12_SKETCH_R)
    extrude(amount=-LPATTERN2_COL_COPY_12_DEPTH, mode=Mode.SUBTRACT)

    # LPattern2 col copy 13 sketch → LPattern2 col copy 13 (cut, through all)
    with BuildSketch(Plane(origin=(-10, 23.885620253, 5), x_dir=(1, 0, 0), z_dir=(0, 1, 0))):
        with Locations((0, -12.5)):
            Circle(LPATTERN2_COL_COPY_13_SKETCH_R)
    extrude(amount=-LPATTERN2_COL_COPY_13_DEPTH, mode=Mode.SUBTRACT)

    # LPattern2 col copy 14 sketch → LPattern2 col copy 14 (cut, through all)
    with BuildSketch(Plane(origin=(-10, 23.885620253, 10), x_dir=(1, 0, 0), z_dir=(0, 1, 0))):
        with Locations((0, -12.5)):
            Circle(LPATTERN2_COL_COPY_14_SKETCH_R)
    extrude(amount=-LPATTERN2_COL_COPY_14_DEPTH, mode=Mode.SUBTRACT)

    # LPattern2 col copy 15 sketch → LPattern2 col copy 15 (cut, through all)
    with BuildSketch(Plane(origin=(-15, 23.885620253, 5), x_dir=(1, 0, 0), z_dir=(0, 1, 0))):
        with Locations((0, -12.5)):
            Circle(LPATTERN2_COL_COPY_15_SKETCH_R)
    extrude(amount=-LPATTERN2_COL_COPY_15_DEPTH, mode=Mode.SUBTRACT)

    # LPattern2 col copy 16 sketch → LPattern2 col copy 16 (cut, through all)
    with BuildSketch(Plane(origin=(-15, 23.885620253, 10), x_dir=(1, 0, 0), z_dir=(0, 1, 0))):
        with Locations((0, -12.5)):
            Circle(LPATTERN2_COL_COPY_16_SKETCH_R)
    extrude(amount=-LPATTERN2_COL_COPY_16_DEPTH, mode=Mode.SUBTRACT)

    # LPattern2 col copy 17 sketch → LPattern2 col copy 17 (cut, through all)
    with BuildSketch(Plane(origin=(-20, 23.885620253, 5), x_dir=(1, 0, 0), z_dir=(0, 1, 0))):
        with Locations((0, -12.5)):
            Circle(LPATTERN2_COL_COPY_17_SKETCH_R)
    extrude(amount=-LPATTERN2_COL_COPY_17_DEPTH, mode=Mode.SUBTRACT)

    # LPattern2 col copy 18 sketch → LPattern2 col copy 18 (cut, through all)
    with BuildSketch(Plane(origin=(-20, 23.885620253, 10), x_dir=(1, 0, 0), z_dir=(0, 1, 0))):
        with Locations((0, -12.5)):
            Circle(LPATTERN2_COL_COPY_18_SKETCH_R)
    extrude(amount=-LPATTERN2_COL_COPY_18_DEPTH, mode=Mode.SUBTRACT)

    # LPattern2 col copy 19 sketch → LPattern2 col copy 19 (cut, through all)
    with BuildSketch(Plane(origin=(-25, 23.885620253, 5), x_dir=(1, 0, 0), z_dir=(0, 1, 0))):
        with Locations((0, -12.5)):
            Circle(LPATTERN2_COL_COPY_19_SKETCH_R)
    extrude(amount=-LPATTERN2_COL_COPY_19_DEPTH, mode=Mode.SUBTRACT)

    # LPattern2 col copy 20 sketch → LPattern2 col copy 20 (cut, through all)
    with BuildSketch(Plane(origin=(-25, 23.885620253, 10), x_dir=(1, 0, 0), z_dir=(0, 1, 0))):
        with Locations((0, -12.5)):
            Circle(LPATTERN2_COL_COPY_20_SKETCH_R)
    extrude(amount=-LPATTERN2_COL_COPY_20_DEPTH, mode=Mode.SUBTRACT)

    # Sketch13 → Boss-Extrude2 (add)
    with BuildSketch(Plane(origin=(0, 35.685620253, 0), x_dir=(1, 0, 0), z_dir=(0, 1, 0))):
        with Locations((0, -12.5)):
            Rectangle(SKETCH13_W, SKETCH13_H)
    extrude(amount=-BOSS_EXTRUDE2_DEPTH)


solid = part.part
